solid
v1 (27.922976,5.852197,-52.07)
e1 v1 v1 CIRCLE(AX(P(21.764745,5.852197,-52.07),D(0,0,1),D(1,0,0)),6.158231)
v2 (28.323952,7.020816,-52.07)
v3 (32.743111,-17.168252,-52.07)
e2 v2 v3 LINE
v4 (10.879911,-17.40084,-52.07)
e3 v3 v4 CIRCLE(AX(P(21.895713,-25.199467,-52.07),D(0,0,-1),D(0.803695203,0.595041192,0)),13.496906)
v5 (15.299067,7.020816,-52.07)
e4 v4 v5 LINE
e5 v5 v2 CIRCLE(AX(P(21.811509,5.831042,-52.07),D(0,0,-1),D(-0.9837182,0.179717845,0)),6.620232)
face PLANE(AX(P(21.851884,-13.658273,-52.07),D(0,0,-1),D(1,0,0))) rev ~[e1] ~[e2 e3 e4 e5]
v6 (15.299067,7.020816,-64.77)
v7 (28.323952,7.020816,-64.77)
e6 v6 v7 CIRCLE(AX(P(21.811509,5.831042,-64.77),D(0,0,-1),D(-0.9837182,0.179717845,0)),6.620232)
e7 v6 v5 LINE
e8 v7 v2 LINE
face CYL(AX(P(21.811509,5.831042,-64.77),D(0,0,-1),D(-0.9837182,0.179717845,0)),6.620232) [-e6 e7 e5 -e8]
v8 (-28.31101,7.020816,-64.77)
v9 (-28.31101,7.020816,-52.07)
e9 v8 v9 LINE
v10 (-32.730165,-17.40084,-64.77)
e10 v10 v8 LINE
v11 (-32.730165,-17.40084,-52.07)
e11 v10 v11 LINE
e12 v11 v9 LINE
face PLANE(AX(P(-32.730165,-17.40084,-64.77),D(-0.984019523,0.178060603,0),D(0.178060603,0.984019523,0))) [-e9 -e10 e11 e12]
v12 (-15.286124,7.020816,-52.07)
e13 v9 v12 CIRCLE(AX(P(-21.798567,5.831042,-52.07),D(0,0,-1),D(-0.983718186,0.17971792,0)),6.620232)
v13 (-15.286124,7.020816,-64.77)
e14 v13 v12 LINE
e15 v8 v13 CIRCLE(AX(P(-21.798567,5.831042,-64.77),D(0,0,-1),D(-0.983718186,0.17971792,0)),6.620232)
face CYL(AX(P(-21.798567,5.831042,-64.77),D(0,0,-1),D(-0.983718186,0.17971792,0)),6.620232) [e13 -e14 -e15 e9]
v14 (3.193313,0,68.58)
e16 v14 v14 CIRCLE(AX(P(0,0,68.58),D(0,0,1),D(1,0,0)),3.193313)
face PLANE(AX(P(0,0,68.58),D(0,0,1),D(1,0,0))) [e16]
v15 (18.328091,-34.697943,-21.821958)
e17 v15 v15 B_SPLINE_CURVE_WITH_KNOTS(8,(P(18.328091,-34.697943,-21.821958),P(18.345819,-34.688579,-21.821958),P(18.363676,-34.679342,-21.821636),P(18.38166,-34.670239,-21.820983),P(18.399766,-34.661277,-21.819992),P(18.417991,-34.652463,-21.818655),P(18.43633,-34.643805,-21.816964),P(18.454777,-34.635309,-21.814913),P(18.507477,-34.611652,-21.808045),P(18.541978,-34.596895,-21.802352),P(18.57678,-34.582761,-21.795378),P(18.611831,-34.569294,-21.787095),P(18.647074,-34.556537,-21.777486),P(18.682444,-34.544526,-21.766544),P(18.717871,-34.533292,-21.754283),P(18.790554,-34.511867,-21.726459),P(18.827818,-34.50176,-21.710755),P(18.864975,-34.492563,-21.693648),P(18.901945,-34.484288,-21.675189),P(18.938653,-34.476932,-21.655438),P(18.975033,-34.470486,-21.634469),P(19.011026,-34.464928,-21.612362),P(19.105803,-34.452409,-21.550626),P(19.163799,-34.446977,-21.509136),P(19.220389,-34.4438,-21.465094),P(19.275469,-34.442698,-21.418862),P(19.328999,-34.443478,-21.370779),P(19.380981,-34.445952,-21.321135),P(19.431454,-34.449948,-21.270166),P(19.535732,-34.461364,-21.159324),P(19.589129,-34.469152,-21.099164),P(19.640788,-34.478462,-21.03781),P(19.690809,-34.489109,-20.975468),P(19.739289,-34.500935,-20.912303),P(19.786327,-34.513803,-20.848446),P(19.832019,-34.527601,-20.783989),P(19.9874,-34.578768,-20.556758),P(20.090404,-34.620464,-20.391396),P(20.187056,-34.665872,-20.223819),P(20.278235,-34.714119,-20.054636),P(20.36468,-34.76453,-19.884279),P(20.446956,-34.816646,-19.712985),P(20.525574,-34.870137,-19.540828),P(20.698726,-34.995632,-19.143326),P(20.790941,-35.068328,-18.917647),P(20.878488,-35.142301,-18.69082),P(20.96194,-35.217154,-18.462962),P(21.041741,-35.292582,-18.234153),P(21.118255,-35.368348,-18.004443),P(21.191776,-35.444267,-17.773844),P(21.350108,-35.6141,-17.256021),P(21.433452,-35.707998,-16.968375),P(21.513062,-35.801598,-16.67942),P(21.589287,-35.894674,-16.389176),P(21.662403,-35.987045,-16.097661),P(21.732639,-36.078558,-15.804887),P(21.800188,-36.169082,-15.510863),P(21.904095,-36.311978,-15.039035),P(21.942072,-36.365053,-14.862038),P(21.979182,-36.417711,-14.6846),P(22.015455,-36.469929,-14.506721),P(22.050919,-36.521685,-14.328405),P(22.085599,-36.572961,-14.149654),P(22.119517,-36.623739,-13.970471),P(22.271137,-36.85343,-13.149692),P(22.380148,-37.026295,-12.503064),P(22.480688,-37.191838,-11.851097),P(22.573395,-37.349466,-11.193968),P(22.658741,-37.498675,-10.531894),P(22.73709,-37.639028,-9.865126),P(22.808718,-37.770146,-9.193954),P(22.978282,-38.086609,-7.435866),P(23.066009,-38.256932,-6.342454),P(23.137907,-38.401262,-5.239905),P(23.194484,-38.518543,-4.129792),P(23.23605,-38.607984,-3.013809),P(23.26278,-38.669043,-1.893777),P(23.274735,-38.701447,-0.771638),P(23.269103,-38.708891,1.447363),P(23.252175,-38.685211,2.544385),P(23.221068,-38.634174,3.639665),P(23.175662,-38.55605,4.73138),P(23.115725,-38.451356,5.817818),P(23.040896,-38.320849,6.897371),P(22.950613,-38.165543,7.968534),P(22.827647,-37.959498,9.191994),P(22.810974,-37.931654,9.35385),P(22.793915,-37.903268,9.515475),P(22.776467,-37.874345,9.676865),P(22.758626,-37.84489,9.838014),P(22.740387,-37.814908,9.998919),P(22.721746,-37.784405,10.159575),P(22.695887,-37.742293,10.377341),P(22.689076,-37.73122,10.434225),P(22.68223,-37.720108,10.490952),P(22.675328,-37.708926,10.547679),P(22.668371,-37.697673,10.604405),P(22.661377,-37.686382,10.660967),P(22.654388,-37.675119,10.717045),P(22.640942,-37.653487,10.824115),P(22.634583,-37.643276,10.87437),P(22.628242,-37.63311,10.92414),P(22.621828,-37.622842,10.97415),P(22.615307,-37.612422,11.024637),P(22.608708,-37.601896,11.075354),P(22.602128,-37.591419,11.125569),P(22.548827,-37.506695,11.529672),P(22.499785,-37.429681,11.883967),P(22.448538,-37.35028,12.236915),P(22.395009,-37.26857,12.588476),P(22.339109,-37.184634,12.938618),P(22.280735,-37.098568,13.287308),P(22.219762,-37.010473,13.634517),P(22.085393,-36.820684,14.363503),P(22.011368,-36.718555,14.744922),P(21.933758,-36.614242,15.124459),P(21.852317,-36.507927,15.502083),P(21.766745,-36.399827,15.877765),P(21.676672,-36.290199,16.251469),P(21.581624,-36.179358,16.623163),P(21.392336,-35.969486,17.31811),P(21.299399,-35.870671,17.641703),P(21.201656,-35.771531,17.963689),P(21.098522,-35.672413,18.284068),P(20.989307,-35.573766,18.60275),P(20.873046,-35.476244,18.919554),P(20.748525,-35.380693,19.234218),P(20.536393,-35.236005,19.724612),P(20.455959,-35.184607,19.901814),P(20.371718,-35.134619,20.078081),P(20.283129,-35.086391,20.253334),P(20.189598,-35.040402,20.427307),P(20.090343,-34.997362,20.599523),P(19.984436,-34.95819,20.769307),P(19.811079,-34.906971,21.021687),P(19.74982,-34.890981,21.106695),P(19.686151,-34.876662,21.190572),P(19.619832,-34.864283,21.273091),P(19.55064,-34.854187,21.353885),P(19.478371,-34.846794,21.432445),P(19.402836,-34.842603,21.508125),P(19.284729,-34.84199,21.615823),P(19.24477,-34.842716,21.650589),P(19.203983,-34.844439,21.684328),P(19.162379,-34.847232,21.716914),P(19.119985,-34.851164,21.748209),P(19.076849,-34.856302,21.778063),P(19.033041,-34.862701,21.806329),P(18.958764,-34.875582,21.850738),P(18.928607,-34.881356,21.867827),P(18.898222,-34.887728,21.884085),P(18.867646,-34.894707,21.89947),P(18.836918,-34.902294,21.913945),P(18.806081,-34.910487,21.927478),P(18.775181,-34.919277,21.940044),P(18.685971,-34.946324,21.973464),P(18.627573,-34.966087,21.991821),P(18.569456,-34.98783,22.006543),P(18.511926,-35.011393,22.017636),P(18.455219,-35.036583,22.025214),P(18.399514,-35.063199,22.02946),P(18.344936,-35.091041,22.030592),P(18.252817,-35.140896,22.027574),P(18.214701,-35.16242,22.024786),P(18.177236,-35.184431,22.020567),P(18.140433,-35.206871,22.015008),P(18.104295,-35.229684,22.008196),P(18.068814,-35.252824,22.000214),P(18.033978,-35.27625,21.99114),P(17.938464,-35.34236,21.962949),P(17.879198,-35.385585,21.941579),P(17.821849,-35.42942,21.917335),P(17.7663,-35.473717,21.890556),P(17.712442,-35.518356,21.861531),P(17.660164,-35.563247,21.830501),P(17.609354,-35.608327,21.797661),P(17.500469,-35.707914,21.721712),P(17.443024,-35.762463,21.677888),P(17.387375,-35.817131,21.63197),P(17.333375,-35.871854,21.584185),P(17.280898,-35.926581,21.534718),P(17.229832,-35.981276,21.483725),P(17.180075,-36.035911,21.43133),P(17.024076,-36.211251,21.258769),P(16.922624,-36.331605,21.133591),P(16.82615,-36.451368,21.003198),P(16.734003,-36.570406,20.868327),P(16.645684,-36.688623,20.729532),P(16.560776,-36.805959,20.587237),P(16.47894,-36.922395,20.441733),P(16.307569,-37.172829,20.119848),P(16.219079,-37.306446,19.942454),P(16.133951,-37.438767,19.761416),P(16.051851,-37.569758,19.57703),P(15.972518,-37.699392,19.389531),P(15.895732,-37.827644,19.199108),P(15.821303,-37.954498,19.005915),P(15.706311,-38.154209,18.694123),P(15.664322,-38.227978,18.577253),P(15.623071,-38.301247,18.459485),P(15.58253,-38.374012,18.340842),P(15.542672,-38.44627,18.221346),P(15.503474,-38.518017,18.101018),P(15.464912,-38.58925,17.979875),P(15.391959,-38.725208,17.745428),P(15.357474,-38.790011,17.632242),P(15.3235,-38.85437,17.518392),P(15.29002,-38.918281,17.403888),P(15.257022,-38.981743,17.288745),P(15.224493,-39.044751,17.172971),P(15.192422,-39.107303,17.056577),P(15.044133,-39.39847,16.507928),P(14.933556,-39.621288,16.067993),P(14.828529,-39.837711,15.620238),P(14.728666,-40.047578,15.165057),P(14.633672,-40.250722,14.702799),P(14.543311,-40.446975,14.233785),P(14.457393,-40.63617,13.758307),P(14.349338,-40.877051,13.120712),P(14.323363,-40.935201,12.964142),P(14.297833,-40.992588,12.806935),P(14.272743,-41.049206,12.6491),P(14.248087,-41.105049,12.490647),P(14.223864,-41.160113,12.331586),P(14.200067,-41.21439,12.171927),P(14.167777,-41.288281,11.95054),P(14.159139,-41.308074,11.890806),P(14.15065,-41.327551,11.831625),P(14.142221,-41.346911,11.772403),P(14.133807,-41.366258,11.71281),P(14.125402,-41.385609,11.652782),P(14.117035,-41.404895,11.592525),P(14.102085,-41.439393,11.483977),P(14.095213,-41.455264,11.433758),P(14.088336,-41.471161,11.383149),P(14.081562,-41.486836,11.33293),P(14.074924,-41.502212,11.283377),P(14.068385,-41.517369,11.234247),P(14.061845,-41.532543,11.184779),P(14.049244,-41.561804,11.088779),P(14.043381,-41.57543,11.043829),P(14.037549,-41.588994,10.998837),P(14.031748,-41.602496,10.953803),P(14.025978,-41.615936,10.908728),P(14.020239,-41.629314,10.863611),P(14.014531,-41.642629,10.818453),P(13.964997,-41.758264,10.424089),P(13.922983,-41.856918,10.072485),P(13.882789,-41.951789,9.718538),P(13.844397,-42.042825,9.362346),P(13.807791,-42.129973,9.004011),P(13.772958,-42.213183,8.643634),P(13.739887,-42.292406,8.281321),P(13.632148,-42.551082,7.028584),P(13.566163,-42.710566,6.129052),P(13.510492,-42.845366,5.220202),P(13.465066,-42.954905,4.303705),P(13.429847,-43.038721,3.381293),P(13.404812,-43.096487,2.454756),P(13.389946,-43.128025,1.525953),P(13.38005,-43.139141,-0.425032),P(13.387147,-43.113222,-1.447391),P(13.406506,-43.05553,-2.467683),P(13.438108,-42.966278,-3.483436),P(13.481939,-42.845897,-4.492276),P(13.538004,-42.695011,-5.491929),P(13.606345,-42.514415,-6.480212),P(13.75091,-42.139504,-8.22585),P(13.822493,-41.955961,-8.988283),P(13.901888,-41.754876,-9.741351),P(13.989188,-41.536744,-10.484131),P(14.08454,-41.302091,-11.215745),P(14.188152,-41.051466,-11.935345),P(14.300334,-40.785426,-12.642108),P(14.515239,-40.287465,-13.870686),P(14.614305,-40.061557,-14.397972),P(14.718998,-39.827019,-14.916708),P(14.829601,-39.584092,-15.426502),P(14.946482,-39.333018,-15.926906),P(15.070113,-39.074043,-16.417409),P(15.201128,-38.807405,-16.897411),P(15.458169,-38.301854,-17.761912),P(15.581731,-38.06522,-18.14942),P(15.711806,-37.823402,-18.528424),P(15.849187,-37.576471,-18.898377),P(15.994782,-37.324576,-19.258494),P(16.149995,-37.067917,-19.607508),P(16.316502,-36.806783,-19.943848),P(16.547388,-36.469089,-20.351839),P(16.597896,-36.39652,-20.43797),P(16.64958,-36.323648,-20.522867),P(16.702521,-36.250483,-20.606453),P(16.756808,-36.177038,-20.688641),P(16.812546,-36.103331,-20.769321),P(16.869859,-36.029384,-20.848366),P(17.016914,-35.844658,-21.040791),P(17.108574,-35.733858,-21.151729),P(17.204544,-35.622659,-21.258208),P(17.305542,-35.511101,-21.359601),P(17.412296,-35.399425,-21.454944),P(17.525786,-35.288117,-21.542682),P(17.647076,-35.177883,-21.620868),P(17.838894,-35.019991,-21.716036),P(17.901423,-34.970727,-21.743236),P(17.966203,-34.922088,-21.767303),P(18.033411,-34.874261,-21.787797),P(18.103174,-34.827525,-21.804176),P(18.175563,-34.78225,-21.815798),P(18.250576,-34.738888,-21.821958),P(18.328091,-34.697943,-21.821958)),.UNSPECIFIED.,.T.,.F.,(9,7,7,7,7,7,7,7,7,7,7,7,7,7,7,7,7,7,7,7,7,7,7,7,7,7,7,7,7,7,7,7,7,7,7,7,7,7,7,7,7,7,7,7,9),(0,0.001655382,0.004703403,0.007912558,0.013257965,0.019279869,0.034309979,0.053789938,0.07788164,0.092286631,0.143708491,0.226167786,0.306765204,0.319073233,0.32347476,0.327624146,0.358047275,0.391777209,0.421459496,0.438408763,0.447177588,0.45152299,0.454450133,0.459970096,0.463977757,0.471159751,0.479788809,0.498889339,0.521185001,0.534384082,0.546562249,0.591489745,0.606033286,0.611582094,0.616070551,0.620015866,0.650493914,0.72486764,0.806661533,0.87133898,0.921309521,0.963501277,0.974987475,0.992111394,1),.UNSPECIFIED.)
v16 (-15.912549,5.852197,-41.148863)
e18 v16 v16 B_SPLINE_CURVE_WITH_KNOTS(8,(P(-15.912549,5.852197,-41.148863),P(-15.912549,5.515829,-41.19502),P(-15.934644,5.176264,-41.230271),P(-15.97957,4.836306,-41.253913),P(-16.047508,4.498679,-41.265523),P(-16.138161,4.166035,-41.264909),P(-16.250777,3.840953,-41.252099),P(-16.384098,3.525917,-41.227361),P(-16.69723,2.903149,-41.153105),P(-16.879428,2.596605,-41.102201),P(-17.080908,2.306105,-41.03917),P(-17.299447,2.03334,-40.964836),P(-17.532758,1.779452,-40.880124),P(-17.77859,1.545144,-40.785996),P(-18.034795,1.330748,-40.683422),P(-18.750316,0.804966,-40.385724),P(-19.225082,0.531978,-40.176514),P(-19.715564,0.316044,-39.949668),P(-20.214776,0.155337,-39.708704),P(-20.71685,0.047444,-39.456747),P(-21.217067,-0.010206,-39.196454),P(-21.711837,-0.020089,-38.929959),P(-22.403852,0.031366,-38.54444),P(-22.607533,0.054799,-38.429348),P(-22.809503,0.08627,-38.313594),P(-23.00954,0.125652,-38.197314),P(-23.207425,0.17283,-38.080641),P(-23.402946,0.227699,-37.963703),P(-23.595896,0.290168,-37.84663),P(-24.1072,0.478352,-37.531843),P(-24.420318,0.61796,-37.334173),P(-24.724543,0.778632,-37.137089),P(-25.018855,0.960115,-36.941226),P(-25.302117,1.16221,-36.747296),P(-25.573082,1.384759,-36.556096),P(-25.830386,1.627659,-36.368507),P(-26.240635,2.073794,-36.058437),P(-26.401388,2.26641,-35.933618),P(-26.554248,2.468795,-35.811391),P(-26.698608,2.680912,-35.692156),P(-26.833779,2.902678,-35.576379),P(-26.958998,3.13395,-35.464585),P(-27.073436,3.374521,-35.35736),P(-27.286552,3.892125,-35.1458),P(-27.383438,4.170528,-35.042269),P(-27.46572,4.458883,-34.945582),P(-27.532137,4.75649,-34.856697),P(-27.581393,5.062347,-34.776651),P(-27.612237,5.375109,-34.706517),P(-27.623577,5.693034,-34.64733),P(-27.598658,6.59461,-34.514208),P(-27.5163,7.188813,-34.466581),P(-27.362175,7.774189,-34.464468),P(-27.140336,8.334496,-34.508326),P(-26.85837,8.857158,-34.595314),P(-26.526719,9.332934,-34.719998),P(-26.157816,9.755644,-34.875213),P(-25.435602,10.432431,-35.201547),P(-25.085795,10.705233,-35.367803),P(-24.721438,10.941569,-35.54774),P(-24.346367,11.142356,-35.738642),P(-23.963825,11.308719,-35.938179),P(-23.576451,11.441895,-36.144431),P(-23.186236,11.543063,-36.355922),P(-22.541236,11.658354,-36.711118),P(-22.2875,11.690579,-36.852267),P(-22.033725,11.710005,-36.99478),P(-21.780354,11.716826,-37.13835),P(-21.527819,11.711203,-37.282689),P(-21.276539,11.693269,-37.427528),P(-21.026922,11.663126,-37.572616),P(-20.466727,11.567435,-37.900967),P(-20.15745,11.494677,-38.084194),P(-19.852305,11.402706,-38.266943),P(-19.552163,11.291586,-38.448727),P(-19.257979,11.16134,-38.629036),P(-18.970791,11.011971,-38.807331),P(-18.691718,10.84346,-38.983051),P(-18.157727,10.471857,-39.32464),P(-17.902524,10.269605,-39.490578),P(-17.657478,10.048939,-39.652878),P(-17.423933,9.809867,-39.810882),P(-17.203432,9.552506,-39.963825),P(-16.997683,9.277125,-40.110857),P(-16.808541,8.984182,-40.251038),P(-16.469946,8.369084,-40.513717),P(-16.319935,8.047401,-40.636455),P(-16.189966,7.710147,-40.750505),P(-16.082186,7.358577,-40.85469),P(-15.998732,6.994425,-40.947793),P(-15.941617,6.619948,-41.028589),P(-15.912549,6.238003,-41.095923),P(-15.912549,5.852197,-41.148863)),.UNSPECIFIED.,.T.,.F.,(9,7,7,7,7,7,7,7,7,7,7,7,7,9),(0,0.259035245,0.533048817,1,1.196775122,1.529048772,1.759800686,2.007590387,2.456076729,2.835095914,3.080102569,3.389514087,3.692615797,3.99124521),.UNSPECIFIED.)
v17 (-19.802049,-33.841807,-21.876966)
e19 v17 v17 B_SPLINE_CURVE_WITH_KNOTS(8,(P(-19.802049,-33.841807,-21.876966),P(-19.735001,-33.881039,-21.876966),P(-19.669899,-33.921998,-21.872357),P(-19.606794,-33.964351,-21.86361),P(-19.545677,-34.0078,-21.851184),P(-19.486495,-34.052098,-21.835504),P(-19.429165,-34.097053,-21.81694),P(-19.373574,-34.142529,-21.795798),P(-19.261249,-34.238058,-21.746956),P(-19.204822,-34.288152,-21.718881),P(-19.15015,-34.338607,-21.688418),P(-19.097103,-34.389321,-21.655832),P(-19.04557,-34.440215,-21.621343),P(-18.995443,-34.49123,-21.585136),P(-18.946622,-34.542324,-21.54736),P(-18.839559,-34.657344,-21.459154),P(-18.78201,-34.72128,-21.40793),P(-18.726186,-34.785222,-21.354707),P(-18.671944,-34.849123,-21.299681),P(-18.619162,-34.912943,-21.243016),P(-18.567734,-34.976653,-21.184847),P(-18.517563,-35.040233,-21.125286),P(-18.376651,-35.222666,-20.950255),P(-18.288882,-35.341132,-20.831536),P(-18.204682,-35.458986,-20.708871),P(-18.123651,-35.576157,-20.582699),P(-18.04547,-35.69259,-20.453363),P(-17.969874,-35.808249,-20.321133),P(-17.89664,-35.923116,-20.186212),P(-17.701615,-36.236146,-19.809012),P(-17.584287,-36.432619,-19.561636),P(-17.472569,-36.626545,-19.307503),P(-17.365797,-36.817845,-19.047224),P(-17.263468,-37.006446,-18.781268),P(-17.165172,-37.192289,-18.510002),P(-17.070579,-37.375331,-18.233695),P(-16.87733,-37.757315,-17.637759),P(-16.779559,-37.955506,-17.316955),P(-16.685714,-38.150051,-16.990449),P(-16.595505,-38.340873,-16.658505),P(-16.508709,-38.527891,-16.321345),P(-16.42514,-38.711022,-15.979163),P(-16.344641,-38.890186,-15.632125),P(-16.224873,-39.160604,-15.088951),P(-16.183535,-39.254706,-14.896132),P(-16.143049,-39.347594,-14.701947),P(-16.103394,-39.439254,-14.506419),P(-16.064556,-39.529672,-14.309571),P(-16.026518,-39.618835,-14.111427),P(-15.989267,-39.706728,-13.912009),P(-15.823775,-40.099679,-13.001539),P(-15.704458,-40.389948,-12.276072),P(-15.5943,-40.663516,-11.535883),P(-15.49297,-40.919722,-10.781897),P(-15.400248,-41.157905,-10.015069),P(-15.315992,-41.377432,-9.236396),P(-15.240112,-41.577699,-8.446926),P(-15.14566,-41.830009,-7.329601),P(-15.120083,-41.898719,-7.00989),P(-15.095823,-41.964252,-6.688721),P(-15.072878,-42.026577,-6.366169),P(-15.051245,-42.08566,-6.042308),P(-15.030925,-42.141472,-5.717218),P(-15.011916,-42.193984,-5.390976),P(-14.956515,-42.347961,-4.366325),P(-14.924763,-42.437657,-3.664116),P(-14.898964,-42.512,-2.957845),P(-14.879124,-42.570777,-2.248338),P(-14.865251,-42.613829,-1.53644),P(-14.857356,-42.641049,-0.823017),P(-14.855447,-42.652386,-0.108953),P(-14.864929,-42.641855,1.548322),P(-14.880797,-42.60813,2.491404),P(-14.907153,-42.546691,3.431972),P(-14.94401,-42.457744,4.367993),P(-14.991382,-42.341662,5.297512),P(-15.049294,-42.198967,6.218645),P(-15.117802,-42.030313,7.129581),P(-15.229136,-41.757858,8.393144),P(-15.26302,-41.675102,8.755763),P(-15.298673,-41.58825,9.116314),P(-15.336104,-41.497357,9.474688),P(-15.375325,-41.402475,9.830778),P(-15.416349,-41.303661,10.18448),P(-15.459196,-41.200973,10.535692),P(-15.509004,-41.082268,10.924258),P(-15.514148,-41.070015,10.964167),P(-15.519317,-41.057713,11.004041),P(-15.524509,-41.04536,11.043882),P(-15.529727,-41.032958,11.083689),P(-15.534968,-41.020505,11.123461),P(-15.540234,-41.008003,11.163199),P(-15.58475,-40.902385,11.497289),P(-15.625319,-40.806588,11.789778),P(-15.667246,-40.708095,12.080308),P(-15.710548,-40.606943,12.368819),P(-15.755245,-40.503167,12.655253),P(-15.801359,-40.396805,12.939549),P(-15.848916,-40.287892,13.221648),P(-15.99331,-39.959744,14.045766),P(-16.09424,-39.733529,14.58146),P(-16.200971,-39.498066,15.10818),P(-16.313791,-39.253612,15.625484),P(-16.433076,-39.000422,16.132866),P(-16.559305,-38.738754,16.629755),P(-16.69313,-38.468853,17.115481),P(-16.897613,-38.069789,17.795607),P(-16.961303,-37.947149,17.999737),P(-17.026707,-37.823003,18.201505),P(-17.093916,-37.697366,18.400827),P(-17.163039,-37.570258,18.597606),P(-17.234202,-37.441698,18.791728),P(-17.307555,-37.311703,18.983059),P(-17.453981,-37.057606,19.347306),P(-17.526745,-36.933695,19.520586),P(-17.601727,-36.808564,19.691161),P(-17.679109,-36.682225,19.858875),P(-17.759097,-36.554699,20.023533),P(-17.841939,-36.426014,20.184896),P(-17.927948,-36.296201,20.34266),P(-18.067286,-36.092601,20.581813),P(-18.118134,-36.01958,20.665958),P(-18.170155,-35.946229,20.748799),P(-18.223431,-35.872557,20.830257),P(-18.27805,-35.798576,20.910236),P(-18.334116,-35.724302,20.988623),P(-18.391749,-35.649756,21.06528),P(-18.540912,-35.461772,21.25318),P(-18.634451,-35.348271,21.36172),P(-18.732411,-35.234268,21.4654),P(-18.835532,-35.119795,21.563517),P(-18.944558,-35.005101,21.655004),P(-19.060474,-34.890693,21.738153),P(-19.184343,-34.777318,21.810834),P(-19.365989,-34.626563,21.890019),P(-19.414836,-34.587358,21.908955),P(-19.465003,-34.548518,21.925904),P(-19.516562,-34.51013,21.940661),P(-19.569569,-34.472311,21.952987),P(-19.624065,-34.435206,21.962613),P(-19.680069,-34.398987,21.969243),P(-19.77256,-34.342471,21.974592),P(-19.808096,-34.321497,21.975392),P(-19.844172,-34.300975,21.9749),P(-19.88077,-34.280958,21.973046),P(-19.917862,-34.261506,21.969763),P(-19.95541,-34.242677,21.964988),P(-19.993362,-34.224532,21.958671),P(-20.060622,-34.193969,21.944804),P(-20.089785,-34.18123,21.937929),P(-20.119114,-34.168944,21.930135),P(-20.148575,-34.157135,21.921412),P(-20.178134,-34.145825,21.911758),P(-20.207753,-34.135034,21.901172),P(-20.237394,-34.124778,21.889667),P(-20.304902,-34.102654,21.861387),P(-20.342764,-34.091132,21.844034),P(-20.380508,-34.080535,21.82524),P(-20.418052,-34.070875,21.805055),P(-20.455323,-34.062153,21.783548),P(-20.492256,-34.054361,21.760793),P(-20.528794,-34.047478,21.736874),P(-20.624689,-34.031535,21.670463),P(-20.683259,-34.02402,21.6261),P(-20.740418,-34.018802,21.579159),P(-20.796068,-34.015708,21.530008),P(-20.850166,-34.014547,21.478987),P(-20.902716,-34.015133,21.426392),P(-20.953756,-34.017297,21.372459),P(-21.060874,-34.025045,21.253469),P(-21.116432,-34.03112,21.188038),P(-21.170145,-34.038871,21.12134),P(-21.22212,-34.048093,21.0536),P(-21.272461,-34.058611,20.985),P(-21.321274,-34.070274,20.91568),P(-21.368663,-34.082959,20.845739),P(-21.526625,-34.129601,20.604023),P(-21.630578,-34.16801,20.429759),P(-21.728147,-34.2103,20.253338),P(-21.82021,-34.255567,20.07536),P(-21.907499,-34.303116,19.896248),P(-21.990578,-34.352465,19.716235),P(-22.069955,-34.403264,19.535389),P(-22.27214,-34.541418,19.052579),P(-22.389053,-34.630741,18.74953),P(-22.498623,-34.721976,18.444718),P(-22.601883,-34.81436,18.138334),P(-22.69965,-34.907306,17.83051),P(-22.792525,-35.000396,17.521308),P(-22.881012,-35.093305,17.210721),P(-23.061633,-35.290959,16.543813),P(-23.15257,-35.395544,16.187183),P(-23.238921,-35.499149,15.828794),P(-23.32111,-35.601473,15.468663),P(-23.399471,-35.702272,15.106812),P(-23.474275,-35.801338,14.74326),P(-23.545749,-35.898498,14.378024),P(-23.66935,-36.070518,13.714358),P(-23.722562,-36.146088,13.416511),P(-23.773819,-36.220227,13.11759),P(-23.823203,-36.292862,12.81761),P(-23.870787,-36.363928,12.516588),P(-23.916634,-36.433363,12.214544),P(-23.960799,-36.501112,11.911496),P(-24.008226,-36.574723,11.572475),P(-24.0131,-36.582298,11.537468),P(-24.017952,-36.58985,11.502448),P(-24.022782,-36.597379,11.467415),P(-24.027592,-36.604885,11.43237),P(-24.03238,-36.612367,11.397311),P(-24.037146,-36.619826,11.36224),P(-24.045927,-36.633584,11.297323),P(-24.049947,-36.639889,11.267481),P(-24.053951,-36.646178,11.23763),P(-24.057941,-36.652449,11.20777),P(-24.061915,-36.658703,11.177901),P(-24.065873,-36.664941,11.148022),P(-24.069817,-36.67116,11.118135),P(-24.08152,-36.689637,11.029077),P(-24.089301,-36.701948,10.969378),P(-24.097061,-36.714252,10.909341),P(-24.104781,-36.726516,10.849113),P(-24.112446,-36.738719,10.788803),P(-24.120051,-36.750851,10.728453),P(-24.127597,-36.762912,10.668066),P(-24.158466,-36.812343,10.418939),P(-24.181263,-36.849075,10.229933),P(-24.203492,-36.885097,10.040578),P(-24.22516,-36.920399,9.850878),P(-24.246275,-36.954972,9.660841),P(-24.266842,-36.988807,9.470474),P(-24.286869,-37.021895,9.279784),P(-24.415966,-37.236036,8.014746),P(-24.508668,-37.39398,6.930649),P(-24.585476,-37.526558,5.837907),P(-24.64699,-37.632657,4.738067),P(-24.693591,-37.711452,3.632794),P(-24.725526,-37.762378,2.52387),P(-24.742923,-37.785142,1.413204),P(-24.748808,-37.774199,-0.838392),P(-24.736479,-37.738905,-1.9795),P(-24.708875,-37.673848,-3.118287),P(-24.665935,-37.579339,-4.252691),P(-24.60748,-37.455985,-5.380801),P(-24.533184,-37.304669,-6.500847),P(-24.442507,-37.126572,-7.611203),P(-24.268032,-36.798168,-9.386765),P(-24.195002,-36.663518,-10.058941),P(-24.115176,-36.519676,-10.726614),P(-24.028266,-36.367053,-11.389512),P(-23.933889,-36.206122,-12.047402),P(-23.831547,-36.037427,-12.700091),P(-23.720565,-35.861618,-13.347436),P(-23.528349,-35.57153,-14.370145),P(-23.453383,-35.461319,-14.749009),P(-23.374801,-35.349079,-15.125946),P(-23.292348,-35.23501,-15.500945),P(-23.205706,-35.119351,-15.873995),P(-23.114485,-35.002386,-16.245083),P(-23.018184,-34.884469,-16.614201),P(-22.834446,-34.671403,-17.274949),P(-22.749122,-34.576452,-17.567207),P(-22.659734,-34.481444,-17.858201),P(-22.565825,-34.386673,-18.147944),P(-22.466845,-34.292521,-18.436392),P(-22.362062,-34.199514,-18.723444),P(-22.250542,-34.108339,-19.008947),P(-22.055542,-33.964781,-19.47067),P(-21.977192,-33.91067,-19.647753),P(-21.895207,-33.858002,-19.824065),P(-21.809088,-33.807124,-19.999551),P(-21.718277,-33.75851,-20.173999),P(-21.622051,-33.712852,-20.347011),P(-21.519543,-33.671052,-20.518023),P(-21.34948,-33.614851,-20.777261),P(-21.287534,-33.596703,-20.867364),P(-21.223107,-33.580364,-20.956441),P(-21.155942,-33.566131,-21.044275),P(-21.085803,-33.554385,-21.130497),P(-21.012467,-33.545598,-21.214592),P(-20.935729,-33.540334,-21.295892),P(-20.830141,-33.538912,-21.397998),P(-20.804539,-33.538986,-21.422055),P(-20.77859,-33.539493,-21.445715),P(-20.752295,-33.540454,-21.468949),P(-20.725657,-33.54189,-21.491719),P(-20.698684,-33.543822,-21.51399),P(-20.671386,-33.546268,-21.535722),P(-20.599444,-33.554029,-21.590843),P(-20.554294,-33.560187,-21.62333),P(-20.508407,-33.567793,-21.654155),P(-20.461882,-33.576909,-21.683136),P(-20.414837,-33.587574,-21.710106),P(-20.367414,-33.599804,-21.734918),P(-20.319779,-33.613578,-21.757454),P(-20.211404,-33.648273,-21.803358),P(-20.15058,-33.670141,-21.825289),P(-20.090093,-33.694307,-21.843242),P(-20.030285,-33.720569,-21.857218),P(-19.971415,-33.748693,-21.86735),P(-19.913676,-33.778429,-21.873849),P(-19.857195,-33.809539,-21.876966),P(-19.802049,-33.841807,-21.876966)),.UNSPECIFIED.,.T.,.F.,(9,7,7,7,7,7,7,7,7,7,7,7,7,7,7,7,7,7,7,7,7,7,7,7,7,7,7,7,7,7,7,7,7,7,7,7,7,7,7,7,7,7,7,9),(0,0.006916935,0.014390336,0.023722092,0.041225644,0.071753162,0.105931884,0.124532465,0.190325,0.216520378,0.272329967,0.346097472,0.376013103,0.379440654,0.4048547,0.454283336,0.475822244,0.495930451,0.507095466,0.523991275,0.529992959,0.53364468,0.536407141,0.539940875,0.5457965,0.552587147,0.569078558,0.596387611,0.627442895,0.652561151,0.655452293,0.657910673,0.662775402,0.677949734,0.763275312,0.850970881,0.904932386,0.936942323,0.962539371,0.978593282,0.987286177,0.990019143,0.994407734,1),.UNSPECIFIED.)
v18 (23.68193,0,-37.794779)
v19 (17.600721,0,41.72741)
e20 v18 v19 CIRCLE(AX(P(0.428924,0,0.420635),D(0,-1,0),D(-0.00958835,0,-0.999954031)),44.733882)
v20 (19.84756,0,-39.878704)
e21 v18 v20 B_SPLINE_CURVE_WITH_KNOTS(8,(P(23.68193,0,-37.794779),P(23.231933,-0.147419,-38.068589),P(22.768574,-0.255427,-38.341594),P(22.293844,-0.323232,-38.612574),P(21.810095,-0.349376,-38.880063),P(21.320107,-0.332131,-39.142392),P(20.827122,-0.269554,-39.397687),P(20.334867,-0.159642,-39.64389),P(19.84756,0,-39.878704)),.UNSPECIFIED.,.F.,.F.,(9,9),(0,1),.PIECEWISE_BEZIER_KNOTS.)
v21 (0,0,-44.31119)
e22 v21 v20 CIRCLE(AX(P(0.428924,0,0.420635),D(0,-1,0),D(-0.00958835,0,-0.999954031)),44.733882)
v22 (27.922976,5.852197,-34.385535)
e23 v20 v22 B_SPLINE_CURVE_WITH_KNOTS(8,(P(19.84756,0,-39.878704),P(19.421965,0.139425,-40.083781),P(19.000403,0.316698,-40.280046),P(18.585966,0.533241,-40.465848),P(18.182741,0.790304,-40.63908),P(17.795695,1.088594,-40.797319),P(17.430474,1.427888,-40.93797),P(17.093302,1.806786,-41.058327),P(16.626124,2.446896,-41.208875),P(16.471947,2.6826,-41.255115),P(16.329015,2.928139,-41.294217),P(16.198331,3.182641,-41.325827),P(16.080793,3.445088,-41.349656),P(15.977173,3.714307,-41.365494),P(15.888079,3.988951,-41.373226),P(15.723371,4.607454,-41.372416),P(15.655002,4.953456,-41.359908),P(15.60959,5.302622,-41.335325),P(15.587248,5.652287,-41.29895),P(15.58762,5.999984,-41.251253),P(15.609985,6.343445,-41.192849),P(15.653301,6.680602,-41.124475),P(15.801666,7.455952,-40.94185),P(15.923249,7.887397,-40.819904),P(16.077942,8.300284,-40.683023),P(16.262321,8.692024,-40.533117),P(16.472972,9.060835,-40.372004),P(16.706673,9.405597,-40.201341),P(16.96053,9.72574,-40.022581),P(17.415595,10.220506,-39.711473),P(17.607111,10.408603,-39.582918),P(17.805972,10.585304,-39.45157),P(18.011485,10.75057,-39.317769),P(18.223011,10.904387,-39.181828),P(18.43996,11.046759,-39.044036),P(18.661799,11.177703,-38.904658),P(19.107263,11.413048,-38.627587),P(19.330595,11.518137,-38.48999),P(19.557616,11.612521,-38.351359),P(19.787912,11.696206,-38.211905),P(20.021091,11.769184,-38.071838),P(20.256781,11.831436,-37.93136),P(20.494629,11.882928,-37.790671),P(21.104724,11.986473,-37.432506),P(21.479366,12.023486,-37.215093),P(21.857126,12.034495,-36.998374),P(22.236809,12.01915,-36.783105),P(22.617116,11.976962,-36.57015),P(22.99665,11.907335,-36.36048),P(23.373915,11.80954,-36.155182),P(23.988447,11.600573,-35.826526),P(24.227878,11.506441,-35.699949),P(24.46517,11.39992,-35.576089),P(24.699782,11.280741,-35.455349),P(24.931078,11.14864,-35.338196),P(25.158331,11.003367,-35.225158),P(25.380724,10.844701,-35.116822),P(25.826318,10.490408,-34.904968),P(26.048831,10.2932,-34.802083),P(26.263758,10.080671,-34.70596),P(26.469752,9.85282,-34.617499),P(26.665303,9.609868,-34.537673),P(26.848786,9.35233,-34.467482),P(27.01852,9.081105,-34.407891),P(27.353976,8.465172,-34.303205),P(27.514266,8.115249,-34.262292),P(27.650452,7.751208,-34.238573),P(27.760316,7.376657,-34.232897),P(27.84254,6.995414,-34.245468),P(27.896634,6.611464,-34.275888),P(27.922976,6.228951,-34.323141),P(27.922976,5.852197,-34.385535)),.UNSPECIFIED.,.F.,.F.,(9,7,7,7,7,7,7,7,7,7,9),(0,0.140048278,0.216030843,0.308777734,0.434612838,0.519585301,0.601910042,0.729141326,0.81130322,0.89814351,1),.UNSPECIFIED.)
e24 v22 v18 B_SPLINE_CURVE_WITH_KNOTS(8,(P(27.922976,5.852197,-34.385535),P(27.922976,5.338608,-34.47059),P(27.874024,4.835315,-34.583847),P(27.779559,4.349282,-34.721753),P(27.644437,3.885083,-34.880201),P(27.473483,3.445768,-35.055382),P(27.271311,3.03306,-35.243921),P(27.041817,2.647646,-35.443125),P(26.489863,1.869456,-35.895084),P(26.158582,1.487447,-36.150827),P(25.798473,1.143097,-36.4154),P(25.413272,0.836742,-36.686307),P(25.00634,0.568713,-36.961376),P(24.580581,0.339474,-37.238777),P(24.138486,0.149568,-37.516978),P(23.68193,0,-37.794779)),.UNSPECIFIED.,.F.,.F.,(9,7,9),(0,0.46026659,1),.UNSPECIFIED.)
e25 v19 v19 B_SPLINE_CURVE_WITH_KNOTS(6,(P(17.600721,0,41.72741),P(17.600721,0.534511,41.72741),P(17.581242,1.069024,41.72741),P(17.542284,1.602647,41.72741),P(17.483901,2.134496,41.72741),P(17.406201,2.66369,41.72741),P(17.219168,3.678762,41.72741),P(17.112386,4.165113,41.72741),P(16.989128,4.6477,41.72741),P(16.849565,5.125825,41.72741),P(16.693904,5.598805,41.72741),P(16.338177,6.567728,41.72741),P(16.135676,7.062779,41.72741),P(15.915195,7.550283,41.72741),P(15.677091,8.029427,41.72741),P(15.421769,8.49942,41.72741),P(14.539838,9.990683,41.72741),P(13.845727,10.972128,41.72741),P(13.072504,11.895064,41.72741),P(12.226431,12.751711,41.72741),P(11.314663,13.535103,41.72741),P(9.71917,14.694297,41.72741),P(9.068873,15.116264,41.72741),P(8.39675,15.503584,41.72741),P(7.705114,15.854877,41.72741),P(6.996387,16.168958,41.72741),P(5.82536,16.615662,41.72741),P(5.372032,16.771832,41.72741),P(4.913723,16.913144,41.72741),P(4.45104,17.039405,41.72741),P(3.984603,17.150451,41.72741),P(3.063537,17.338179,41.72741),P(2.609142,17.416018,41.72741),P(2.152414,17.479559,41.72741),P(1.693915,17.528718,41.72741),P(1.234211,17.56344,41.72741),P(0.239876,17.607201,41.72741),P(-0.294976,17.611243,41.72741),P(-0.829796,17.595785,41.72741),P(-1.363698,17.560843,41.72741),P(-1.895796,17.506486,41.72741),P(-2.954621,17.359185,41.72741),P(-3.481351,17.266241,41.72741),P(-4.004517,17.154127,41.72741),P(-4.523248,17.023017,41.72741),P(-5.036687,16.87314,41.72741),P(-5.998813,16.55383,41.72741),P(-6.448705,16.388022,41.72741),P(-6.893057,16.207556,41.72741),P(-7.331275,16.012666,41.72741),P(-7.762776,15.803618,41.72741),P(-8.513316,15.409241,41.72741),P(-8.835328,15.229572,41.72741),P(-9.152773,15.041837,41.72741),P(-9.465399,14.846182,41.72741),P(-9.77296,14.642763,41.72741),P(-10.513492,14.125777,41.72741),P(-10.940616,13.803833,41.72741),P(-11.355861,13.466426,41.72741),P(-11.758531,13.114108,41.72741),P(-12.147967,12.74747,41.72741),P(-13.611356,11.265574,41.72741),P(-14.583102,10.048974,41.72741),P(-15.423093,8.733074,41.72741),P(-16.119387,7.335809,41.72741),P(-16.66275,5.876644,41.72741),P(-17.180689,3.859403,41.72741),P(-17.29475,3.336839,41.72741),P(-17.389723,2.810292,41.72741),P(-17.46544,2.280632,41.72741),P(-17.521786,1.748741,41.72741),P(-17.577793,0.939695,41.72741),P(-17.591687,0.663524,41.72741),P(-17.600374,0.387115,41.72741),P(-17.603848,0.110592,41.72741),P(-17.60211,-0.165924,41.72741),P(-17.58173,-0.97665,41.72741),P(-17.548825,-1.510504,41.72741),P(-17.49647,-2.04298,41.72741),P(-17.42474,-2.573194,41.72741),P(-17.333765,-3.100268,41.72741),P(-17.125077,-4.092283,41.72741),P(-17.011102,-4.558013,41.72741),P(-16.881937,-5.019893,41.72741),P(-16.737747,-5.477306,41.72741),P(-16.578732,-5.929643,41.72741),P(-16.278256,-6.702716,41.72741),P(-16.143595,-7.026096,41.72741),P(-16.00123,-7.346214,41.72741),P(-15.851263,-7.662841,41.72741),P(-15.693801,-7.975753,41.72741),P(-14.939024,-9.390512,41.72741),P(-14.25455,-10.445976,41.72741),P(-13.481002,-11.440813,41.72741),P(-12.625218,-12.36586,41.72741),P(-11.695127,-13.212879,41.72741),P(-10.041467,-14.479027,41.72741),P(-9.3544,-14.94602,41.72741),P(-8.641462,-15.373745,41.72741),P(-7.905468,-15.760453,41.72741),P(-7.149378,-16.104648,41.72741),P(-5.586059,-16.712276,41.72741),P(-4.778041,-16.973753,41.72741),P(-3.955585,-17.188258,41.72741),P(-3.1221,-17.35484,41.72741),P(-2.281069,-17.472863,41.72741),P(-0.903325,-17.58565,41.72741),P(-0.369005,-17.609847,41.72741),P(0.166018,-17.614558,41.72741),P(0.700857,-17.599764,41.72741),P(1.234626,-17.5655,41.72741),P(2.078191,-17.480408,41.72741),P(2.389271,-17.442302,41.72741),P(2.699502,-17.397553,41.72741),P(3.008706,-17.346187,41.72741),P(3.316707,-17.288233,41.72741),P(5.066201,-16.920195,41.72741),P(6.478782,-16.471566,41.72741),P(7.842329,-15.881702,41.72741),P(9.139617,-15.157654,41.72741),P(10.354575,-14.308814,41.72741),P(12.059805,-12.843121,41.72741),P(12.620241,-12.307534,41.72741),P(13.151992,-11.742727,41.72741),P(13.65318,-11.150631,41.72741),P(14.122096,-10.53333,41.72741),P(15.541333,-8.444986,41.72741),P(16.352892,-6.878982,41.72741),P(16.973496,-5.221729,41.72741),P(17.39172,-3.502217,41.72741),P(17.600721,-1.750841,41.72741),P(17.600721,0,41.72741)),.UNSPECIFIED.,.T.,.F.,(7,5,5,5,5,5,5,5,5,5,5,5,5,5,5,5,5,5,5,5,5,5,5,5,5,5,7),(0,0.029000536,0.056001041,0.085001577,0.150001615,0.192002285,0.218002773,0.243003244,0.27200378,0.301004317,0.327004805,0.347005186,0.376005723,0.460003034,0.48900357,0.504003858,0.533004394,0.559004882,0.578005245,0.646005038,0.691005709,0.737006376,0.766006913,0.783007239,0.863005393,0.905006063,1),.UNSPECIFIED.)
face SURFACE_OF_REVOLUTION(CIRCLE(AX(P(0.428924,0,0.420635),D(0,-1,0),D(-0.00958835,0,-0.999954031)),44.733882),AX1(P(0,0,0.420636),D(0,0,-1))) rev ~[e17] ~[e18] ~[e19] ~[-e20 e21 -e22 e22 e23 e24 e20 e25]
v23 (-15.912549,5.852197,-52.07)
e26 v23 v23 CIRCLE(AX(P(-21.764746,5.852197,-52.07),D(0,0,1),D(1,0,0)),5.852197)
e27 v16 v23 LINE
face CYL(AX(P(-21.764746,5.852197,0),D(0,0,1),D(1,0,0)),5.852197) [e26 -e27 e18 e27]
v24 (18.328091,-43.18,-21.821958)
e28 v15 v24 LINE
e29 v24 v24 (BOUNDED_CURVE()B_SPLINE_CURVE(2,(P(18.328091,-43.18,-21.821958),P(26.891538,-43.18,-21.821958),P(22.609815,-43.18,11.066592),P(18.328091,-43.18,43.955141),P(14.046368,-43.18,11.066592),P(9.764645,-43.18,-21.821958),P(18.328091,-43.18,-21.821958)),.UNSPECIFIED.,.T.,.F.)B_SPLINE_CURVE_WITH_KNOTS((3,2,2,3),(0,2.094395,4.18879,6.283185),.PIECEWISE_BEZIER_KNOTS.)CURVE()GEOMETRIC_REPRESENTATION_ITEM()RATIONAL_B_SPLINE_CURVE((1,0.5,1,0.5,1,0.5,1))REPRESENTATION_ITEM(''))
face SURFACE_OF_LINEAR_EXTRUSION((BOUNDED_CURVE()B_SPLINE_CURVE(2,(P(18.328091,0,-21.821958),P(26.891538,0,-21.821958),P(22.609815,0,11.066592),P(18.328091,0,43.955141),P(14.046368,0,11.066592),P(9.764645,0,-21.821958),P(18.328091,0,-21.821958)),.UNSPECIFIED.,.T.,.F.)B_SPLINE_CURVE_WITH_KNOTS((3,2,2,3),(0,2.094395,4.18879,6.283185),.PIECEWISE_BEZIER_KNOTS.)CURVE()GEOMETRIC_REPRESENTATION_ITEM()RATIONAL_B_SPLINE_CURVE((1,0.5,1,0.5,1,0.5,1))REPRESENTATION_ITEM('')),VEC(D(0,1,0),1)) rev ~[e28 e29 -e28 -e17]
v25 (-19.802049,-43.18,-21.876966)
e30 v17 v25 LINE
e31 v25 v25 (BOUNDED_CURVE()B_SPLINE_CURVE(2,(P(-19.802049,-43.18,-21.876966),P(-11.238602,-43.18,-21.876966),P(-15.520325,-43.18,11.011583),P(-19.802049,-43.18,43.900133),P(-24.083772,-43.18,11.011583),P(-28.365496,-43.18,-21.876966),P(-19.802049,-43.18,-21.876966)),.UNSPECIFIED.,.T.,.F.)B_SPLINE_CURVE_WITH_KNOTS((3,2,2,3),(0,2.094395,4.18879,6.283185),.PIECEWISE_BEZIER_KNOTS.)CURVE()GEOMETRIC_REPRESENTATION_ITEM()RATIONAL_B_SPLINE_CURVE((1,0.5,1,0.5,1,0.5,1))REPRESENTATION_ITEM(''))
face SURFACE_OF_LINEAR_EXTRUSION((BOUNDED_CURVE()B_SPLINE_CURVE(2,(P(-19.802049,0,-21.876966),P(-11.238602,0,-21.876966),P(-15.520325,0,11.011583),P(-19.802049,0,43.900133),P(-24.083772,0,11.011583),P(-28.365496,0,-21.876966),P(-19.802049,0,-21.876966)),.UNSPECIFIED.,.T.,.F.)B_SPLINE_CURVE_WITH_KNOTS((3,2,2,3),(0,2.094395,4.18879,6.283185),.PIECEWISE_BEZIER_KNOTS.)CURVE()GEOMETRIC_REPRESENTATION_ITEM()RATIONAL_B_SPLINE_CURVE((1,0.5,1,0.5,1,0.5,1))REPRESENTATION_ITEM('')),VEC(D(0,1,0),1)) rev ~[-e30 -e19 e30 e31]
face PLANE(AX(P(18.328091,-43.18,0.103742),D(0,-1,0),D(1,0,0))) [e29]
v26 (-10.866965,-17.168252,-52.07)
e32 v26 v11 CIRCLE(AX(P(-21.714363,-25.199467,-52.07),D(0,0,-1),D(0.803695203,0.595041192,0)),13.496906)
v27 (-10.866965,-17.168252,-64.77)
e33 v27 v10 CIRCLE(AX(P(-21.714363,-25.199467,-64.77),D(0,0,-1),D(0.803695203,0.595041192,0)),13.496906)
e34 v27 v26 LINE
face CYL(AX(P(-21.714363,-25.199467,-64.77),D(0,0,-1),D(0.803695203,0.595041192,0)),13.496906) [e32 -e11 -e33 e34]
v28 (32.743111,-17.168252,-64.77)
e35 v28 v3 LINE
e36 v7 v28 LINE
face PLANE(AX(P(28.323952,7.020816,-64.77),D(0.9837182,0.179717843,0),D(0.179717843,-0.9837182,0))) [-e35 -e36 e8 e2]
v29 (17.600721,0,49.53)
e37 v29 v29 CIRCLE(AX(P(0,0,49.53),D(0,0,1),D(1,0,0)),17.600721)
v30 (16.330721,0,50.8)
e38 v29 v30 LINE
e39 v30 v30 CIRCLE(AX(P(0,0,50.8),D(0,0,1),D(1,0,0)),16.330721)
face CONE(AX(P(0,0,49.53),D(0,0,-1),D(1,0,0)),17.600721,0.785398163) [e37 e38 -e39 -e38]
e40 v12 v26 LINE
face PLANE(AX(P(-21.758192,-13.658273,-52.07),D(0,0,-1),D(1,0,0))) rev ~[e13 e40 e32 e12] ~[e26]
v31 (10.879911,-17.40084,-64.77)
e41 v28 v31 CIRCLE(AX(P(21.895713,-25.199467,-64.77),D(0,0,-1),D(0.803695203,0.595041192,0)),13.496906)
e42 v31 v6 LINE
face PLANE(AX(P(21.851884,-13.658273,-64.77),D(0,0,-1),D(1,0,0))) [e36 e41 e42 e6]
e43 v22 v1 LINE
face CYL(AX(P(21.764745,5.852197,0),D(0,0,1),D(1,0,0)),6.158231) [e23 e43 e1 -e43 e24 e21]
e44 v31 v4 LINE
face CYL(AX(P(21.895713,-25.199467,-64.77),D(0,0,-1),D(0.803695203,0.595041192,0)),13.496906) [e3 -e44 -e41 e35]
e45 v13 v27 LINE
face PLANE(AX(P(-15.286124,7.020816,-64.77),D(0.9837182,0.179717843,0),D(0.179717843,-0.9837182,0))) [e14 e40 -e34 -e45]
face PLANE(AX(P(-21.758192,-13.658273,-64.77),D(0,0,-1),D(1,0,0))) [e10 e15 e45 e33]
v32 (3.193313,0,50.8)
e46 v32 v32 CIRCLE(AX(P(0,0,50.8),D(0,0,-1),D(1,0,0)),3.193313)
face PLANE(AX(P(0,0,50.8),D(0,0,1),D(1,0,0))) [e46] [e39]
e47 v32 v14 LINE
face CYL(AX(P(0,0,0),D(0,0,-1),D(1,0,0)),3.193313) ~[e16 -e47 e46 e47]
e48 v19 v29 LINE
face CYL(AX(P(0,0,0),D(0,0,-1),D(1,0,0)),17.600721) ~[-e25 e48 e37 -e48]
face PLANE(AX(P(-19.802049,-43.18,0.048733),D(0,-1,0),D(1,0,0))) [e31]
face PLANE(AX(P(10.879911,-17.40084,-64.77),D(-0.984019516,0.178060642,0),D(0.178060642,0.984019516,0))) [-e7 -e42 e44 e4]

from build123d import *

# Parameters (mm, degrees)
F2_R      = 17.600721
F3_DEPTH  = 50.8
F4_SIZE   = 1.27
F5_R      = 3.193313
F6_DEPTH  = 68.58
F7_R      = 5.852197
F7_R_2    = 6.158231
F8_DEPTH  = 64.77
F10_DEPTH = 12.7
F12_DEPTH = 43.18


with BuildPart() as f1:
    # F0 (on Front) → F1 (revolve)
    with BuildSketch(Plane.XZ):
        with BuildLine():
            ThreePointArc((0, -44.31119), (45.162806, 0.420636), (0, 45.152461))
            Line((0, 45.152461), (0, -44.31119))
        make_face()
    revolve(axis=Axis((0, 0, 0.420636), (0, 0, -1)))

    # F2 (on Top) → F3 (join)
    with BuildSketch(Plane.XY):
        Circle(F2_R)
    extrude(amount=F3_DEPTH)

    # F4
    f4_edges = [f1.edges().sort_by_distance(p)[0] for p in [
        (-17.600721, 0, 50.8),
    ]]
    chamfer(f4_edges, length=F4_SIZE)

    # F5 (on Top) → F6 (join)
    with BuildSketch(Plane.XY):
        Circle(F5_R)
    extrude(amount=F6_DEPTH)

    # F7 (on Top) → F8 (join)
    with BuildSketch(Plane.XY):
        with Locations((-21.764746, 5.852197)):
            Circle(F7_R)
        with Locations((21.764745, 5.852197)):
            Circle(F7_R_2)
    extrude(amount=-F8_DEPTH)

    # F9 (on face) → F10 (join)
    with BuildSketch(Plane(origin=(0, 0, -64.77), x_dir=(1, 0, 0), z_dir=(0, 0, -1))):
        with BuildLine():
            Line((28.323952, -7.020816), (32.743111, 17.168252))
            ThreePointArc((32.743111, 17.168252), (22.03929, 38.695609), (10.879911, 17.40084))
            Line((10.879911, 17.40084), (15.299067, -7.020816))
            ThreePointArc((15.299067, -7.020816), (21.81151, -12.451274), (28.323952, -7.020816))
        make_face()
        with BuildLine():
            Line((-15.286124, -7.020816), (-10.866965, 17.168252))
            ThreePointArc((-10.866965, 17.168252), (-21.570787, 38.695609), (-32.730165, 17.40084))
            Line((-32.730165, 17.40084), (-28.31101, -7.020816))
            ThreePointArc((-28.31101, -7.020816), (-21.798567, -12.451274), (-15.286124, -7.020816))
        make_face()
    extrude(amount=-F10_DEPTH)

    # F11 (on Front) → F12 (join)
    with BuildSketch(Plane.XZ):
        with BuildLine():
            add(Edge.make_bspline(
                [(-19.802049, -21.876966), (-11.238602, -21.876966), (-15.520325, 11.011583), (-19.802049, 43.900133), (-24.083772, 11.011583), (-28.365496, -21.876966), (-19.802049, -21.876966)],
                knots=[0, 0, 0, 2.094395, 2.094395, 4.18879, 4.18879, 6.283185, 6.283185, 6.283185], degree=2, weights=[1, 0.5, 1, 0.5, 1, 0.5, 1]))
        make_face()
        with BuildLine():
            add(Edge.make_bspline(
                [(18.328091, -21.821958), (26.891538, -21.821958), (22.609815, 11.066592), (18.328091, 43.955141), (14.046368, 11.066592), (9.764645, -21.821958), (18.328091, -21.821958)],
                knots=[0, 0, 0, 2.094395, 2.094395, 4.18879, 4.18879, 6.283185, 6.283185, 6.283185], degree=2, weights=[1, 0.5, 1, 0.5, 1, 0.5, 1]))
        make_face()
    extrude(amount=F12_DEPTH)


solid = f1.part
